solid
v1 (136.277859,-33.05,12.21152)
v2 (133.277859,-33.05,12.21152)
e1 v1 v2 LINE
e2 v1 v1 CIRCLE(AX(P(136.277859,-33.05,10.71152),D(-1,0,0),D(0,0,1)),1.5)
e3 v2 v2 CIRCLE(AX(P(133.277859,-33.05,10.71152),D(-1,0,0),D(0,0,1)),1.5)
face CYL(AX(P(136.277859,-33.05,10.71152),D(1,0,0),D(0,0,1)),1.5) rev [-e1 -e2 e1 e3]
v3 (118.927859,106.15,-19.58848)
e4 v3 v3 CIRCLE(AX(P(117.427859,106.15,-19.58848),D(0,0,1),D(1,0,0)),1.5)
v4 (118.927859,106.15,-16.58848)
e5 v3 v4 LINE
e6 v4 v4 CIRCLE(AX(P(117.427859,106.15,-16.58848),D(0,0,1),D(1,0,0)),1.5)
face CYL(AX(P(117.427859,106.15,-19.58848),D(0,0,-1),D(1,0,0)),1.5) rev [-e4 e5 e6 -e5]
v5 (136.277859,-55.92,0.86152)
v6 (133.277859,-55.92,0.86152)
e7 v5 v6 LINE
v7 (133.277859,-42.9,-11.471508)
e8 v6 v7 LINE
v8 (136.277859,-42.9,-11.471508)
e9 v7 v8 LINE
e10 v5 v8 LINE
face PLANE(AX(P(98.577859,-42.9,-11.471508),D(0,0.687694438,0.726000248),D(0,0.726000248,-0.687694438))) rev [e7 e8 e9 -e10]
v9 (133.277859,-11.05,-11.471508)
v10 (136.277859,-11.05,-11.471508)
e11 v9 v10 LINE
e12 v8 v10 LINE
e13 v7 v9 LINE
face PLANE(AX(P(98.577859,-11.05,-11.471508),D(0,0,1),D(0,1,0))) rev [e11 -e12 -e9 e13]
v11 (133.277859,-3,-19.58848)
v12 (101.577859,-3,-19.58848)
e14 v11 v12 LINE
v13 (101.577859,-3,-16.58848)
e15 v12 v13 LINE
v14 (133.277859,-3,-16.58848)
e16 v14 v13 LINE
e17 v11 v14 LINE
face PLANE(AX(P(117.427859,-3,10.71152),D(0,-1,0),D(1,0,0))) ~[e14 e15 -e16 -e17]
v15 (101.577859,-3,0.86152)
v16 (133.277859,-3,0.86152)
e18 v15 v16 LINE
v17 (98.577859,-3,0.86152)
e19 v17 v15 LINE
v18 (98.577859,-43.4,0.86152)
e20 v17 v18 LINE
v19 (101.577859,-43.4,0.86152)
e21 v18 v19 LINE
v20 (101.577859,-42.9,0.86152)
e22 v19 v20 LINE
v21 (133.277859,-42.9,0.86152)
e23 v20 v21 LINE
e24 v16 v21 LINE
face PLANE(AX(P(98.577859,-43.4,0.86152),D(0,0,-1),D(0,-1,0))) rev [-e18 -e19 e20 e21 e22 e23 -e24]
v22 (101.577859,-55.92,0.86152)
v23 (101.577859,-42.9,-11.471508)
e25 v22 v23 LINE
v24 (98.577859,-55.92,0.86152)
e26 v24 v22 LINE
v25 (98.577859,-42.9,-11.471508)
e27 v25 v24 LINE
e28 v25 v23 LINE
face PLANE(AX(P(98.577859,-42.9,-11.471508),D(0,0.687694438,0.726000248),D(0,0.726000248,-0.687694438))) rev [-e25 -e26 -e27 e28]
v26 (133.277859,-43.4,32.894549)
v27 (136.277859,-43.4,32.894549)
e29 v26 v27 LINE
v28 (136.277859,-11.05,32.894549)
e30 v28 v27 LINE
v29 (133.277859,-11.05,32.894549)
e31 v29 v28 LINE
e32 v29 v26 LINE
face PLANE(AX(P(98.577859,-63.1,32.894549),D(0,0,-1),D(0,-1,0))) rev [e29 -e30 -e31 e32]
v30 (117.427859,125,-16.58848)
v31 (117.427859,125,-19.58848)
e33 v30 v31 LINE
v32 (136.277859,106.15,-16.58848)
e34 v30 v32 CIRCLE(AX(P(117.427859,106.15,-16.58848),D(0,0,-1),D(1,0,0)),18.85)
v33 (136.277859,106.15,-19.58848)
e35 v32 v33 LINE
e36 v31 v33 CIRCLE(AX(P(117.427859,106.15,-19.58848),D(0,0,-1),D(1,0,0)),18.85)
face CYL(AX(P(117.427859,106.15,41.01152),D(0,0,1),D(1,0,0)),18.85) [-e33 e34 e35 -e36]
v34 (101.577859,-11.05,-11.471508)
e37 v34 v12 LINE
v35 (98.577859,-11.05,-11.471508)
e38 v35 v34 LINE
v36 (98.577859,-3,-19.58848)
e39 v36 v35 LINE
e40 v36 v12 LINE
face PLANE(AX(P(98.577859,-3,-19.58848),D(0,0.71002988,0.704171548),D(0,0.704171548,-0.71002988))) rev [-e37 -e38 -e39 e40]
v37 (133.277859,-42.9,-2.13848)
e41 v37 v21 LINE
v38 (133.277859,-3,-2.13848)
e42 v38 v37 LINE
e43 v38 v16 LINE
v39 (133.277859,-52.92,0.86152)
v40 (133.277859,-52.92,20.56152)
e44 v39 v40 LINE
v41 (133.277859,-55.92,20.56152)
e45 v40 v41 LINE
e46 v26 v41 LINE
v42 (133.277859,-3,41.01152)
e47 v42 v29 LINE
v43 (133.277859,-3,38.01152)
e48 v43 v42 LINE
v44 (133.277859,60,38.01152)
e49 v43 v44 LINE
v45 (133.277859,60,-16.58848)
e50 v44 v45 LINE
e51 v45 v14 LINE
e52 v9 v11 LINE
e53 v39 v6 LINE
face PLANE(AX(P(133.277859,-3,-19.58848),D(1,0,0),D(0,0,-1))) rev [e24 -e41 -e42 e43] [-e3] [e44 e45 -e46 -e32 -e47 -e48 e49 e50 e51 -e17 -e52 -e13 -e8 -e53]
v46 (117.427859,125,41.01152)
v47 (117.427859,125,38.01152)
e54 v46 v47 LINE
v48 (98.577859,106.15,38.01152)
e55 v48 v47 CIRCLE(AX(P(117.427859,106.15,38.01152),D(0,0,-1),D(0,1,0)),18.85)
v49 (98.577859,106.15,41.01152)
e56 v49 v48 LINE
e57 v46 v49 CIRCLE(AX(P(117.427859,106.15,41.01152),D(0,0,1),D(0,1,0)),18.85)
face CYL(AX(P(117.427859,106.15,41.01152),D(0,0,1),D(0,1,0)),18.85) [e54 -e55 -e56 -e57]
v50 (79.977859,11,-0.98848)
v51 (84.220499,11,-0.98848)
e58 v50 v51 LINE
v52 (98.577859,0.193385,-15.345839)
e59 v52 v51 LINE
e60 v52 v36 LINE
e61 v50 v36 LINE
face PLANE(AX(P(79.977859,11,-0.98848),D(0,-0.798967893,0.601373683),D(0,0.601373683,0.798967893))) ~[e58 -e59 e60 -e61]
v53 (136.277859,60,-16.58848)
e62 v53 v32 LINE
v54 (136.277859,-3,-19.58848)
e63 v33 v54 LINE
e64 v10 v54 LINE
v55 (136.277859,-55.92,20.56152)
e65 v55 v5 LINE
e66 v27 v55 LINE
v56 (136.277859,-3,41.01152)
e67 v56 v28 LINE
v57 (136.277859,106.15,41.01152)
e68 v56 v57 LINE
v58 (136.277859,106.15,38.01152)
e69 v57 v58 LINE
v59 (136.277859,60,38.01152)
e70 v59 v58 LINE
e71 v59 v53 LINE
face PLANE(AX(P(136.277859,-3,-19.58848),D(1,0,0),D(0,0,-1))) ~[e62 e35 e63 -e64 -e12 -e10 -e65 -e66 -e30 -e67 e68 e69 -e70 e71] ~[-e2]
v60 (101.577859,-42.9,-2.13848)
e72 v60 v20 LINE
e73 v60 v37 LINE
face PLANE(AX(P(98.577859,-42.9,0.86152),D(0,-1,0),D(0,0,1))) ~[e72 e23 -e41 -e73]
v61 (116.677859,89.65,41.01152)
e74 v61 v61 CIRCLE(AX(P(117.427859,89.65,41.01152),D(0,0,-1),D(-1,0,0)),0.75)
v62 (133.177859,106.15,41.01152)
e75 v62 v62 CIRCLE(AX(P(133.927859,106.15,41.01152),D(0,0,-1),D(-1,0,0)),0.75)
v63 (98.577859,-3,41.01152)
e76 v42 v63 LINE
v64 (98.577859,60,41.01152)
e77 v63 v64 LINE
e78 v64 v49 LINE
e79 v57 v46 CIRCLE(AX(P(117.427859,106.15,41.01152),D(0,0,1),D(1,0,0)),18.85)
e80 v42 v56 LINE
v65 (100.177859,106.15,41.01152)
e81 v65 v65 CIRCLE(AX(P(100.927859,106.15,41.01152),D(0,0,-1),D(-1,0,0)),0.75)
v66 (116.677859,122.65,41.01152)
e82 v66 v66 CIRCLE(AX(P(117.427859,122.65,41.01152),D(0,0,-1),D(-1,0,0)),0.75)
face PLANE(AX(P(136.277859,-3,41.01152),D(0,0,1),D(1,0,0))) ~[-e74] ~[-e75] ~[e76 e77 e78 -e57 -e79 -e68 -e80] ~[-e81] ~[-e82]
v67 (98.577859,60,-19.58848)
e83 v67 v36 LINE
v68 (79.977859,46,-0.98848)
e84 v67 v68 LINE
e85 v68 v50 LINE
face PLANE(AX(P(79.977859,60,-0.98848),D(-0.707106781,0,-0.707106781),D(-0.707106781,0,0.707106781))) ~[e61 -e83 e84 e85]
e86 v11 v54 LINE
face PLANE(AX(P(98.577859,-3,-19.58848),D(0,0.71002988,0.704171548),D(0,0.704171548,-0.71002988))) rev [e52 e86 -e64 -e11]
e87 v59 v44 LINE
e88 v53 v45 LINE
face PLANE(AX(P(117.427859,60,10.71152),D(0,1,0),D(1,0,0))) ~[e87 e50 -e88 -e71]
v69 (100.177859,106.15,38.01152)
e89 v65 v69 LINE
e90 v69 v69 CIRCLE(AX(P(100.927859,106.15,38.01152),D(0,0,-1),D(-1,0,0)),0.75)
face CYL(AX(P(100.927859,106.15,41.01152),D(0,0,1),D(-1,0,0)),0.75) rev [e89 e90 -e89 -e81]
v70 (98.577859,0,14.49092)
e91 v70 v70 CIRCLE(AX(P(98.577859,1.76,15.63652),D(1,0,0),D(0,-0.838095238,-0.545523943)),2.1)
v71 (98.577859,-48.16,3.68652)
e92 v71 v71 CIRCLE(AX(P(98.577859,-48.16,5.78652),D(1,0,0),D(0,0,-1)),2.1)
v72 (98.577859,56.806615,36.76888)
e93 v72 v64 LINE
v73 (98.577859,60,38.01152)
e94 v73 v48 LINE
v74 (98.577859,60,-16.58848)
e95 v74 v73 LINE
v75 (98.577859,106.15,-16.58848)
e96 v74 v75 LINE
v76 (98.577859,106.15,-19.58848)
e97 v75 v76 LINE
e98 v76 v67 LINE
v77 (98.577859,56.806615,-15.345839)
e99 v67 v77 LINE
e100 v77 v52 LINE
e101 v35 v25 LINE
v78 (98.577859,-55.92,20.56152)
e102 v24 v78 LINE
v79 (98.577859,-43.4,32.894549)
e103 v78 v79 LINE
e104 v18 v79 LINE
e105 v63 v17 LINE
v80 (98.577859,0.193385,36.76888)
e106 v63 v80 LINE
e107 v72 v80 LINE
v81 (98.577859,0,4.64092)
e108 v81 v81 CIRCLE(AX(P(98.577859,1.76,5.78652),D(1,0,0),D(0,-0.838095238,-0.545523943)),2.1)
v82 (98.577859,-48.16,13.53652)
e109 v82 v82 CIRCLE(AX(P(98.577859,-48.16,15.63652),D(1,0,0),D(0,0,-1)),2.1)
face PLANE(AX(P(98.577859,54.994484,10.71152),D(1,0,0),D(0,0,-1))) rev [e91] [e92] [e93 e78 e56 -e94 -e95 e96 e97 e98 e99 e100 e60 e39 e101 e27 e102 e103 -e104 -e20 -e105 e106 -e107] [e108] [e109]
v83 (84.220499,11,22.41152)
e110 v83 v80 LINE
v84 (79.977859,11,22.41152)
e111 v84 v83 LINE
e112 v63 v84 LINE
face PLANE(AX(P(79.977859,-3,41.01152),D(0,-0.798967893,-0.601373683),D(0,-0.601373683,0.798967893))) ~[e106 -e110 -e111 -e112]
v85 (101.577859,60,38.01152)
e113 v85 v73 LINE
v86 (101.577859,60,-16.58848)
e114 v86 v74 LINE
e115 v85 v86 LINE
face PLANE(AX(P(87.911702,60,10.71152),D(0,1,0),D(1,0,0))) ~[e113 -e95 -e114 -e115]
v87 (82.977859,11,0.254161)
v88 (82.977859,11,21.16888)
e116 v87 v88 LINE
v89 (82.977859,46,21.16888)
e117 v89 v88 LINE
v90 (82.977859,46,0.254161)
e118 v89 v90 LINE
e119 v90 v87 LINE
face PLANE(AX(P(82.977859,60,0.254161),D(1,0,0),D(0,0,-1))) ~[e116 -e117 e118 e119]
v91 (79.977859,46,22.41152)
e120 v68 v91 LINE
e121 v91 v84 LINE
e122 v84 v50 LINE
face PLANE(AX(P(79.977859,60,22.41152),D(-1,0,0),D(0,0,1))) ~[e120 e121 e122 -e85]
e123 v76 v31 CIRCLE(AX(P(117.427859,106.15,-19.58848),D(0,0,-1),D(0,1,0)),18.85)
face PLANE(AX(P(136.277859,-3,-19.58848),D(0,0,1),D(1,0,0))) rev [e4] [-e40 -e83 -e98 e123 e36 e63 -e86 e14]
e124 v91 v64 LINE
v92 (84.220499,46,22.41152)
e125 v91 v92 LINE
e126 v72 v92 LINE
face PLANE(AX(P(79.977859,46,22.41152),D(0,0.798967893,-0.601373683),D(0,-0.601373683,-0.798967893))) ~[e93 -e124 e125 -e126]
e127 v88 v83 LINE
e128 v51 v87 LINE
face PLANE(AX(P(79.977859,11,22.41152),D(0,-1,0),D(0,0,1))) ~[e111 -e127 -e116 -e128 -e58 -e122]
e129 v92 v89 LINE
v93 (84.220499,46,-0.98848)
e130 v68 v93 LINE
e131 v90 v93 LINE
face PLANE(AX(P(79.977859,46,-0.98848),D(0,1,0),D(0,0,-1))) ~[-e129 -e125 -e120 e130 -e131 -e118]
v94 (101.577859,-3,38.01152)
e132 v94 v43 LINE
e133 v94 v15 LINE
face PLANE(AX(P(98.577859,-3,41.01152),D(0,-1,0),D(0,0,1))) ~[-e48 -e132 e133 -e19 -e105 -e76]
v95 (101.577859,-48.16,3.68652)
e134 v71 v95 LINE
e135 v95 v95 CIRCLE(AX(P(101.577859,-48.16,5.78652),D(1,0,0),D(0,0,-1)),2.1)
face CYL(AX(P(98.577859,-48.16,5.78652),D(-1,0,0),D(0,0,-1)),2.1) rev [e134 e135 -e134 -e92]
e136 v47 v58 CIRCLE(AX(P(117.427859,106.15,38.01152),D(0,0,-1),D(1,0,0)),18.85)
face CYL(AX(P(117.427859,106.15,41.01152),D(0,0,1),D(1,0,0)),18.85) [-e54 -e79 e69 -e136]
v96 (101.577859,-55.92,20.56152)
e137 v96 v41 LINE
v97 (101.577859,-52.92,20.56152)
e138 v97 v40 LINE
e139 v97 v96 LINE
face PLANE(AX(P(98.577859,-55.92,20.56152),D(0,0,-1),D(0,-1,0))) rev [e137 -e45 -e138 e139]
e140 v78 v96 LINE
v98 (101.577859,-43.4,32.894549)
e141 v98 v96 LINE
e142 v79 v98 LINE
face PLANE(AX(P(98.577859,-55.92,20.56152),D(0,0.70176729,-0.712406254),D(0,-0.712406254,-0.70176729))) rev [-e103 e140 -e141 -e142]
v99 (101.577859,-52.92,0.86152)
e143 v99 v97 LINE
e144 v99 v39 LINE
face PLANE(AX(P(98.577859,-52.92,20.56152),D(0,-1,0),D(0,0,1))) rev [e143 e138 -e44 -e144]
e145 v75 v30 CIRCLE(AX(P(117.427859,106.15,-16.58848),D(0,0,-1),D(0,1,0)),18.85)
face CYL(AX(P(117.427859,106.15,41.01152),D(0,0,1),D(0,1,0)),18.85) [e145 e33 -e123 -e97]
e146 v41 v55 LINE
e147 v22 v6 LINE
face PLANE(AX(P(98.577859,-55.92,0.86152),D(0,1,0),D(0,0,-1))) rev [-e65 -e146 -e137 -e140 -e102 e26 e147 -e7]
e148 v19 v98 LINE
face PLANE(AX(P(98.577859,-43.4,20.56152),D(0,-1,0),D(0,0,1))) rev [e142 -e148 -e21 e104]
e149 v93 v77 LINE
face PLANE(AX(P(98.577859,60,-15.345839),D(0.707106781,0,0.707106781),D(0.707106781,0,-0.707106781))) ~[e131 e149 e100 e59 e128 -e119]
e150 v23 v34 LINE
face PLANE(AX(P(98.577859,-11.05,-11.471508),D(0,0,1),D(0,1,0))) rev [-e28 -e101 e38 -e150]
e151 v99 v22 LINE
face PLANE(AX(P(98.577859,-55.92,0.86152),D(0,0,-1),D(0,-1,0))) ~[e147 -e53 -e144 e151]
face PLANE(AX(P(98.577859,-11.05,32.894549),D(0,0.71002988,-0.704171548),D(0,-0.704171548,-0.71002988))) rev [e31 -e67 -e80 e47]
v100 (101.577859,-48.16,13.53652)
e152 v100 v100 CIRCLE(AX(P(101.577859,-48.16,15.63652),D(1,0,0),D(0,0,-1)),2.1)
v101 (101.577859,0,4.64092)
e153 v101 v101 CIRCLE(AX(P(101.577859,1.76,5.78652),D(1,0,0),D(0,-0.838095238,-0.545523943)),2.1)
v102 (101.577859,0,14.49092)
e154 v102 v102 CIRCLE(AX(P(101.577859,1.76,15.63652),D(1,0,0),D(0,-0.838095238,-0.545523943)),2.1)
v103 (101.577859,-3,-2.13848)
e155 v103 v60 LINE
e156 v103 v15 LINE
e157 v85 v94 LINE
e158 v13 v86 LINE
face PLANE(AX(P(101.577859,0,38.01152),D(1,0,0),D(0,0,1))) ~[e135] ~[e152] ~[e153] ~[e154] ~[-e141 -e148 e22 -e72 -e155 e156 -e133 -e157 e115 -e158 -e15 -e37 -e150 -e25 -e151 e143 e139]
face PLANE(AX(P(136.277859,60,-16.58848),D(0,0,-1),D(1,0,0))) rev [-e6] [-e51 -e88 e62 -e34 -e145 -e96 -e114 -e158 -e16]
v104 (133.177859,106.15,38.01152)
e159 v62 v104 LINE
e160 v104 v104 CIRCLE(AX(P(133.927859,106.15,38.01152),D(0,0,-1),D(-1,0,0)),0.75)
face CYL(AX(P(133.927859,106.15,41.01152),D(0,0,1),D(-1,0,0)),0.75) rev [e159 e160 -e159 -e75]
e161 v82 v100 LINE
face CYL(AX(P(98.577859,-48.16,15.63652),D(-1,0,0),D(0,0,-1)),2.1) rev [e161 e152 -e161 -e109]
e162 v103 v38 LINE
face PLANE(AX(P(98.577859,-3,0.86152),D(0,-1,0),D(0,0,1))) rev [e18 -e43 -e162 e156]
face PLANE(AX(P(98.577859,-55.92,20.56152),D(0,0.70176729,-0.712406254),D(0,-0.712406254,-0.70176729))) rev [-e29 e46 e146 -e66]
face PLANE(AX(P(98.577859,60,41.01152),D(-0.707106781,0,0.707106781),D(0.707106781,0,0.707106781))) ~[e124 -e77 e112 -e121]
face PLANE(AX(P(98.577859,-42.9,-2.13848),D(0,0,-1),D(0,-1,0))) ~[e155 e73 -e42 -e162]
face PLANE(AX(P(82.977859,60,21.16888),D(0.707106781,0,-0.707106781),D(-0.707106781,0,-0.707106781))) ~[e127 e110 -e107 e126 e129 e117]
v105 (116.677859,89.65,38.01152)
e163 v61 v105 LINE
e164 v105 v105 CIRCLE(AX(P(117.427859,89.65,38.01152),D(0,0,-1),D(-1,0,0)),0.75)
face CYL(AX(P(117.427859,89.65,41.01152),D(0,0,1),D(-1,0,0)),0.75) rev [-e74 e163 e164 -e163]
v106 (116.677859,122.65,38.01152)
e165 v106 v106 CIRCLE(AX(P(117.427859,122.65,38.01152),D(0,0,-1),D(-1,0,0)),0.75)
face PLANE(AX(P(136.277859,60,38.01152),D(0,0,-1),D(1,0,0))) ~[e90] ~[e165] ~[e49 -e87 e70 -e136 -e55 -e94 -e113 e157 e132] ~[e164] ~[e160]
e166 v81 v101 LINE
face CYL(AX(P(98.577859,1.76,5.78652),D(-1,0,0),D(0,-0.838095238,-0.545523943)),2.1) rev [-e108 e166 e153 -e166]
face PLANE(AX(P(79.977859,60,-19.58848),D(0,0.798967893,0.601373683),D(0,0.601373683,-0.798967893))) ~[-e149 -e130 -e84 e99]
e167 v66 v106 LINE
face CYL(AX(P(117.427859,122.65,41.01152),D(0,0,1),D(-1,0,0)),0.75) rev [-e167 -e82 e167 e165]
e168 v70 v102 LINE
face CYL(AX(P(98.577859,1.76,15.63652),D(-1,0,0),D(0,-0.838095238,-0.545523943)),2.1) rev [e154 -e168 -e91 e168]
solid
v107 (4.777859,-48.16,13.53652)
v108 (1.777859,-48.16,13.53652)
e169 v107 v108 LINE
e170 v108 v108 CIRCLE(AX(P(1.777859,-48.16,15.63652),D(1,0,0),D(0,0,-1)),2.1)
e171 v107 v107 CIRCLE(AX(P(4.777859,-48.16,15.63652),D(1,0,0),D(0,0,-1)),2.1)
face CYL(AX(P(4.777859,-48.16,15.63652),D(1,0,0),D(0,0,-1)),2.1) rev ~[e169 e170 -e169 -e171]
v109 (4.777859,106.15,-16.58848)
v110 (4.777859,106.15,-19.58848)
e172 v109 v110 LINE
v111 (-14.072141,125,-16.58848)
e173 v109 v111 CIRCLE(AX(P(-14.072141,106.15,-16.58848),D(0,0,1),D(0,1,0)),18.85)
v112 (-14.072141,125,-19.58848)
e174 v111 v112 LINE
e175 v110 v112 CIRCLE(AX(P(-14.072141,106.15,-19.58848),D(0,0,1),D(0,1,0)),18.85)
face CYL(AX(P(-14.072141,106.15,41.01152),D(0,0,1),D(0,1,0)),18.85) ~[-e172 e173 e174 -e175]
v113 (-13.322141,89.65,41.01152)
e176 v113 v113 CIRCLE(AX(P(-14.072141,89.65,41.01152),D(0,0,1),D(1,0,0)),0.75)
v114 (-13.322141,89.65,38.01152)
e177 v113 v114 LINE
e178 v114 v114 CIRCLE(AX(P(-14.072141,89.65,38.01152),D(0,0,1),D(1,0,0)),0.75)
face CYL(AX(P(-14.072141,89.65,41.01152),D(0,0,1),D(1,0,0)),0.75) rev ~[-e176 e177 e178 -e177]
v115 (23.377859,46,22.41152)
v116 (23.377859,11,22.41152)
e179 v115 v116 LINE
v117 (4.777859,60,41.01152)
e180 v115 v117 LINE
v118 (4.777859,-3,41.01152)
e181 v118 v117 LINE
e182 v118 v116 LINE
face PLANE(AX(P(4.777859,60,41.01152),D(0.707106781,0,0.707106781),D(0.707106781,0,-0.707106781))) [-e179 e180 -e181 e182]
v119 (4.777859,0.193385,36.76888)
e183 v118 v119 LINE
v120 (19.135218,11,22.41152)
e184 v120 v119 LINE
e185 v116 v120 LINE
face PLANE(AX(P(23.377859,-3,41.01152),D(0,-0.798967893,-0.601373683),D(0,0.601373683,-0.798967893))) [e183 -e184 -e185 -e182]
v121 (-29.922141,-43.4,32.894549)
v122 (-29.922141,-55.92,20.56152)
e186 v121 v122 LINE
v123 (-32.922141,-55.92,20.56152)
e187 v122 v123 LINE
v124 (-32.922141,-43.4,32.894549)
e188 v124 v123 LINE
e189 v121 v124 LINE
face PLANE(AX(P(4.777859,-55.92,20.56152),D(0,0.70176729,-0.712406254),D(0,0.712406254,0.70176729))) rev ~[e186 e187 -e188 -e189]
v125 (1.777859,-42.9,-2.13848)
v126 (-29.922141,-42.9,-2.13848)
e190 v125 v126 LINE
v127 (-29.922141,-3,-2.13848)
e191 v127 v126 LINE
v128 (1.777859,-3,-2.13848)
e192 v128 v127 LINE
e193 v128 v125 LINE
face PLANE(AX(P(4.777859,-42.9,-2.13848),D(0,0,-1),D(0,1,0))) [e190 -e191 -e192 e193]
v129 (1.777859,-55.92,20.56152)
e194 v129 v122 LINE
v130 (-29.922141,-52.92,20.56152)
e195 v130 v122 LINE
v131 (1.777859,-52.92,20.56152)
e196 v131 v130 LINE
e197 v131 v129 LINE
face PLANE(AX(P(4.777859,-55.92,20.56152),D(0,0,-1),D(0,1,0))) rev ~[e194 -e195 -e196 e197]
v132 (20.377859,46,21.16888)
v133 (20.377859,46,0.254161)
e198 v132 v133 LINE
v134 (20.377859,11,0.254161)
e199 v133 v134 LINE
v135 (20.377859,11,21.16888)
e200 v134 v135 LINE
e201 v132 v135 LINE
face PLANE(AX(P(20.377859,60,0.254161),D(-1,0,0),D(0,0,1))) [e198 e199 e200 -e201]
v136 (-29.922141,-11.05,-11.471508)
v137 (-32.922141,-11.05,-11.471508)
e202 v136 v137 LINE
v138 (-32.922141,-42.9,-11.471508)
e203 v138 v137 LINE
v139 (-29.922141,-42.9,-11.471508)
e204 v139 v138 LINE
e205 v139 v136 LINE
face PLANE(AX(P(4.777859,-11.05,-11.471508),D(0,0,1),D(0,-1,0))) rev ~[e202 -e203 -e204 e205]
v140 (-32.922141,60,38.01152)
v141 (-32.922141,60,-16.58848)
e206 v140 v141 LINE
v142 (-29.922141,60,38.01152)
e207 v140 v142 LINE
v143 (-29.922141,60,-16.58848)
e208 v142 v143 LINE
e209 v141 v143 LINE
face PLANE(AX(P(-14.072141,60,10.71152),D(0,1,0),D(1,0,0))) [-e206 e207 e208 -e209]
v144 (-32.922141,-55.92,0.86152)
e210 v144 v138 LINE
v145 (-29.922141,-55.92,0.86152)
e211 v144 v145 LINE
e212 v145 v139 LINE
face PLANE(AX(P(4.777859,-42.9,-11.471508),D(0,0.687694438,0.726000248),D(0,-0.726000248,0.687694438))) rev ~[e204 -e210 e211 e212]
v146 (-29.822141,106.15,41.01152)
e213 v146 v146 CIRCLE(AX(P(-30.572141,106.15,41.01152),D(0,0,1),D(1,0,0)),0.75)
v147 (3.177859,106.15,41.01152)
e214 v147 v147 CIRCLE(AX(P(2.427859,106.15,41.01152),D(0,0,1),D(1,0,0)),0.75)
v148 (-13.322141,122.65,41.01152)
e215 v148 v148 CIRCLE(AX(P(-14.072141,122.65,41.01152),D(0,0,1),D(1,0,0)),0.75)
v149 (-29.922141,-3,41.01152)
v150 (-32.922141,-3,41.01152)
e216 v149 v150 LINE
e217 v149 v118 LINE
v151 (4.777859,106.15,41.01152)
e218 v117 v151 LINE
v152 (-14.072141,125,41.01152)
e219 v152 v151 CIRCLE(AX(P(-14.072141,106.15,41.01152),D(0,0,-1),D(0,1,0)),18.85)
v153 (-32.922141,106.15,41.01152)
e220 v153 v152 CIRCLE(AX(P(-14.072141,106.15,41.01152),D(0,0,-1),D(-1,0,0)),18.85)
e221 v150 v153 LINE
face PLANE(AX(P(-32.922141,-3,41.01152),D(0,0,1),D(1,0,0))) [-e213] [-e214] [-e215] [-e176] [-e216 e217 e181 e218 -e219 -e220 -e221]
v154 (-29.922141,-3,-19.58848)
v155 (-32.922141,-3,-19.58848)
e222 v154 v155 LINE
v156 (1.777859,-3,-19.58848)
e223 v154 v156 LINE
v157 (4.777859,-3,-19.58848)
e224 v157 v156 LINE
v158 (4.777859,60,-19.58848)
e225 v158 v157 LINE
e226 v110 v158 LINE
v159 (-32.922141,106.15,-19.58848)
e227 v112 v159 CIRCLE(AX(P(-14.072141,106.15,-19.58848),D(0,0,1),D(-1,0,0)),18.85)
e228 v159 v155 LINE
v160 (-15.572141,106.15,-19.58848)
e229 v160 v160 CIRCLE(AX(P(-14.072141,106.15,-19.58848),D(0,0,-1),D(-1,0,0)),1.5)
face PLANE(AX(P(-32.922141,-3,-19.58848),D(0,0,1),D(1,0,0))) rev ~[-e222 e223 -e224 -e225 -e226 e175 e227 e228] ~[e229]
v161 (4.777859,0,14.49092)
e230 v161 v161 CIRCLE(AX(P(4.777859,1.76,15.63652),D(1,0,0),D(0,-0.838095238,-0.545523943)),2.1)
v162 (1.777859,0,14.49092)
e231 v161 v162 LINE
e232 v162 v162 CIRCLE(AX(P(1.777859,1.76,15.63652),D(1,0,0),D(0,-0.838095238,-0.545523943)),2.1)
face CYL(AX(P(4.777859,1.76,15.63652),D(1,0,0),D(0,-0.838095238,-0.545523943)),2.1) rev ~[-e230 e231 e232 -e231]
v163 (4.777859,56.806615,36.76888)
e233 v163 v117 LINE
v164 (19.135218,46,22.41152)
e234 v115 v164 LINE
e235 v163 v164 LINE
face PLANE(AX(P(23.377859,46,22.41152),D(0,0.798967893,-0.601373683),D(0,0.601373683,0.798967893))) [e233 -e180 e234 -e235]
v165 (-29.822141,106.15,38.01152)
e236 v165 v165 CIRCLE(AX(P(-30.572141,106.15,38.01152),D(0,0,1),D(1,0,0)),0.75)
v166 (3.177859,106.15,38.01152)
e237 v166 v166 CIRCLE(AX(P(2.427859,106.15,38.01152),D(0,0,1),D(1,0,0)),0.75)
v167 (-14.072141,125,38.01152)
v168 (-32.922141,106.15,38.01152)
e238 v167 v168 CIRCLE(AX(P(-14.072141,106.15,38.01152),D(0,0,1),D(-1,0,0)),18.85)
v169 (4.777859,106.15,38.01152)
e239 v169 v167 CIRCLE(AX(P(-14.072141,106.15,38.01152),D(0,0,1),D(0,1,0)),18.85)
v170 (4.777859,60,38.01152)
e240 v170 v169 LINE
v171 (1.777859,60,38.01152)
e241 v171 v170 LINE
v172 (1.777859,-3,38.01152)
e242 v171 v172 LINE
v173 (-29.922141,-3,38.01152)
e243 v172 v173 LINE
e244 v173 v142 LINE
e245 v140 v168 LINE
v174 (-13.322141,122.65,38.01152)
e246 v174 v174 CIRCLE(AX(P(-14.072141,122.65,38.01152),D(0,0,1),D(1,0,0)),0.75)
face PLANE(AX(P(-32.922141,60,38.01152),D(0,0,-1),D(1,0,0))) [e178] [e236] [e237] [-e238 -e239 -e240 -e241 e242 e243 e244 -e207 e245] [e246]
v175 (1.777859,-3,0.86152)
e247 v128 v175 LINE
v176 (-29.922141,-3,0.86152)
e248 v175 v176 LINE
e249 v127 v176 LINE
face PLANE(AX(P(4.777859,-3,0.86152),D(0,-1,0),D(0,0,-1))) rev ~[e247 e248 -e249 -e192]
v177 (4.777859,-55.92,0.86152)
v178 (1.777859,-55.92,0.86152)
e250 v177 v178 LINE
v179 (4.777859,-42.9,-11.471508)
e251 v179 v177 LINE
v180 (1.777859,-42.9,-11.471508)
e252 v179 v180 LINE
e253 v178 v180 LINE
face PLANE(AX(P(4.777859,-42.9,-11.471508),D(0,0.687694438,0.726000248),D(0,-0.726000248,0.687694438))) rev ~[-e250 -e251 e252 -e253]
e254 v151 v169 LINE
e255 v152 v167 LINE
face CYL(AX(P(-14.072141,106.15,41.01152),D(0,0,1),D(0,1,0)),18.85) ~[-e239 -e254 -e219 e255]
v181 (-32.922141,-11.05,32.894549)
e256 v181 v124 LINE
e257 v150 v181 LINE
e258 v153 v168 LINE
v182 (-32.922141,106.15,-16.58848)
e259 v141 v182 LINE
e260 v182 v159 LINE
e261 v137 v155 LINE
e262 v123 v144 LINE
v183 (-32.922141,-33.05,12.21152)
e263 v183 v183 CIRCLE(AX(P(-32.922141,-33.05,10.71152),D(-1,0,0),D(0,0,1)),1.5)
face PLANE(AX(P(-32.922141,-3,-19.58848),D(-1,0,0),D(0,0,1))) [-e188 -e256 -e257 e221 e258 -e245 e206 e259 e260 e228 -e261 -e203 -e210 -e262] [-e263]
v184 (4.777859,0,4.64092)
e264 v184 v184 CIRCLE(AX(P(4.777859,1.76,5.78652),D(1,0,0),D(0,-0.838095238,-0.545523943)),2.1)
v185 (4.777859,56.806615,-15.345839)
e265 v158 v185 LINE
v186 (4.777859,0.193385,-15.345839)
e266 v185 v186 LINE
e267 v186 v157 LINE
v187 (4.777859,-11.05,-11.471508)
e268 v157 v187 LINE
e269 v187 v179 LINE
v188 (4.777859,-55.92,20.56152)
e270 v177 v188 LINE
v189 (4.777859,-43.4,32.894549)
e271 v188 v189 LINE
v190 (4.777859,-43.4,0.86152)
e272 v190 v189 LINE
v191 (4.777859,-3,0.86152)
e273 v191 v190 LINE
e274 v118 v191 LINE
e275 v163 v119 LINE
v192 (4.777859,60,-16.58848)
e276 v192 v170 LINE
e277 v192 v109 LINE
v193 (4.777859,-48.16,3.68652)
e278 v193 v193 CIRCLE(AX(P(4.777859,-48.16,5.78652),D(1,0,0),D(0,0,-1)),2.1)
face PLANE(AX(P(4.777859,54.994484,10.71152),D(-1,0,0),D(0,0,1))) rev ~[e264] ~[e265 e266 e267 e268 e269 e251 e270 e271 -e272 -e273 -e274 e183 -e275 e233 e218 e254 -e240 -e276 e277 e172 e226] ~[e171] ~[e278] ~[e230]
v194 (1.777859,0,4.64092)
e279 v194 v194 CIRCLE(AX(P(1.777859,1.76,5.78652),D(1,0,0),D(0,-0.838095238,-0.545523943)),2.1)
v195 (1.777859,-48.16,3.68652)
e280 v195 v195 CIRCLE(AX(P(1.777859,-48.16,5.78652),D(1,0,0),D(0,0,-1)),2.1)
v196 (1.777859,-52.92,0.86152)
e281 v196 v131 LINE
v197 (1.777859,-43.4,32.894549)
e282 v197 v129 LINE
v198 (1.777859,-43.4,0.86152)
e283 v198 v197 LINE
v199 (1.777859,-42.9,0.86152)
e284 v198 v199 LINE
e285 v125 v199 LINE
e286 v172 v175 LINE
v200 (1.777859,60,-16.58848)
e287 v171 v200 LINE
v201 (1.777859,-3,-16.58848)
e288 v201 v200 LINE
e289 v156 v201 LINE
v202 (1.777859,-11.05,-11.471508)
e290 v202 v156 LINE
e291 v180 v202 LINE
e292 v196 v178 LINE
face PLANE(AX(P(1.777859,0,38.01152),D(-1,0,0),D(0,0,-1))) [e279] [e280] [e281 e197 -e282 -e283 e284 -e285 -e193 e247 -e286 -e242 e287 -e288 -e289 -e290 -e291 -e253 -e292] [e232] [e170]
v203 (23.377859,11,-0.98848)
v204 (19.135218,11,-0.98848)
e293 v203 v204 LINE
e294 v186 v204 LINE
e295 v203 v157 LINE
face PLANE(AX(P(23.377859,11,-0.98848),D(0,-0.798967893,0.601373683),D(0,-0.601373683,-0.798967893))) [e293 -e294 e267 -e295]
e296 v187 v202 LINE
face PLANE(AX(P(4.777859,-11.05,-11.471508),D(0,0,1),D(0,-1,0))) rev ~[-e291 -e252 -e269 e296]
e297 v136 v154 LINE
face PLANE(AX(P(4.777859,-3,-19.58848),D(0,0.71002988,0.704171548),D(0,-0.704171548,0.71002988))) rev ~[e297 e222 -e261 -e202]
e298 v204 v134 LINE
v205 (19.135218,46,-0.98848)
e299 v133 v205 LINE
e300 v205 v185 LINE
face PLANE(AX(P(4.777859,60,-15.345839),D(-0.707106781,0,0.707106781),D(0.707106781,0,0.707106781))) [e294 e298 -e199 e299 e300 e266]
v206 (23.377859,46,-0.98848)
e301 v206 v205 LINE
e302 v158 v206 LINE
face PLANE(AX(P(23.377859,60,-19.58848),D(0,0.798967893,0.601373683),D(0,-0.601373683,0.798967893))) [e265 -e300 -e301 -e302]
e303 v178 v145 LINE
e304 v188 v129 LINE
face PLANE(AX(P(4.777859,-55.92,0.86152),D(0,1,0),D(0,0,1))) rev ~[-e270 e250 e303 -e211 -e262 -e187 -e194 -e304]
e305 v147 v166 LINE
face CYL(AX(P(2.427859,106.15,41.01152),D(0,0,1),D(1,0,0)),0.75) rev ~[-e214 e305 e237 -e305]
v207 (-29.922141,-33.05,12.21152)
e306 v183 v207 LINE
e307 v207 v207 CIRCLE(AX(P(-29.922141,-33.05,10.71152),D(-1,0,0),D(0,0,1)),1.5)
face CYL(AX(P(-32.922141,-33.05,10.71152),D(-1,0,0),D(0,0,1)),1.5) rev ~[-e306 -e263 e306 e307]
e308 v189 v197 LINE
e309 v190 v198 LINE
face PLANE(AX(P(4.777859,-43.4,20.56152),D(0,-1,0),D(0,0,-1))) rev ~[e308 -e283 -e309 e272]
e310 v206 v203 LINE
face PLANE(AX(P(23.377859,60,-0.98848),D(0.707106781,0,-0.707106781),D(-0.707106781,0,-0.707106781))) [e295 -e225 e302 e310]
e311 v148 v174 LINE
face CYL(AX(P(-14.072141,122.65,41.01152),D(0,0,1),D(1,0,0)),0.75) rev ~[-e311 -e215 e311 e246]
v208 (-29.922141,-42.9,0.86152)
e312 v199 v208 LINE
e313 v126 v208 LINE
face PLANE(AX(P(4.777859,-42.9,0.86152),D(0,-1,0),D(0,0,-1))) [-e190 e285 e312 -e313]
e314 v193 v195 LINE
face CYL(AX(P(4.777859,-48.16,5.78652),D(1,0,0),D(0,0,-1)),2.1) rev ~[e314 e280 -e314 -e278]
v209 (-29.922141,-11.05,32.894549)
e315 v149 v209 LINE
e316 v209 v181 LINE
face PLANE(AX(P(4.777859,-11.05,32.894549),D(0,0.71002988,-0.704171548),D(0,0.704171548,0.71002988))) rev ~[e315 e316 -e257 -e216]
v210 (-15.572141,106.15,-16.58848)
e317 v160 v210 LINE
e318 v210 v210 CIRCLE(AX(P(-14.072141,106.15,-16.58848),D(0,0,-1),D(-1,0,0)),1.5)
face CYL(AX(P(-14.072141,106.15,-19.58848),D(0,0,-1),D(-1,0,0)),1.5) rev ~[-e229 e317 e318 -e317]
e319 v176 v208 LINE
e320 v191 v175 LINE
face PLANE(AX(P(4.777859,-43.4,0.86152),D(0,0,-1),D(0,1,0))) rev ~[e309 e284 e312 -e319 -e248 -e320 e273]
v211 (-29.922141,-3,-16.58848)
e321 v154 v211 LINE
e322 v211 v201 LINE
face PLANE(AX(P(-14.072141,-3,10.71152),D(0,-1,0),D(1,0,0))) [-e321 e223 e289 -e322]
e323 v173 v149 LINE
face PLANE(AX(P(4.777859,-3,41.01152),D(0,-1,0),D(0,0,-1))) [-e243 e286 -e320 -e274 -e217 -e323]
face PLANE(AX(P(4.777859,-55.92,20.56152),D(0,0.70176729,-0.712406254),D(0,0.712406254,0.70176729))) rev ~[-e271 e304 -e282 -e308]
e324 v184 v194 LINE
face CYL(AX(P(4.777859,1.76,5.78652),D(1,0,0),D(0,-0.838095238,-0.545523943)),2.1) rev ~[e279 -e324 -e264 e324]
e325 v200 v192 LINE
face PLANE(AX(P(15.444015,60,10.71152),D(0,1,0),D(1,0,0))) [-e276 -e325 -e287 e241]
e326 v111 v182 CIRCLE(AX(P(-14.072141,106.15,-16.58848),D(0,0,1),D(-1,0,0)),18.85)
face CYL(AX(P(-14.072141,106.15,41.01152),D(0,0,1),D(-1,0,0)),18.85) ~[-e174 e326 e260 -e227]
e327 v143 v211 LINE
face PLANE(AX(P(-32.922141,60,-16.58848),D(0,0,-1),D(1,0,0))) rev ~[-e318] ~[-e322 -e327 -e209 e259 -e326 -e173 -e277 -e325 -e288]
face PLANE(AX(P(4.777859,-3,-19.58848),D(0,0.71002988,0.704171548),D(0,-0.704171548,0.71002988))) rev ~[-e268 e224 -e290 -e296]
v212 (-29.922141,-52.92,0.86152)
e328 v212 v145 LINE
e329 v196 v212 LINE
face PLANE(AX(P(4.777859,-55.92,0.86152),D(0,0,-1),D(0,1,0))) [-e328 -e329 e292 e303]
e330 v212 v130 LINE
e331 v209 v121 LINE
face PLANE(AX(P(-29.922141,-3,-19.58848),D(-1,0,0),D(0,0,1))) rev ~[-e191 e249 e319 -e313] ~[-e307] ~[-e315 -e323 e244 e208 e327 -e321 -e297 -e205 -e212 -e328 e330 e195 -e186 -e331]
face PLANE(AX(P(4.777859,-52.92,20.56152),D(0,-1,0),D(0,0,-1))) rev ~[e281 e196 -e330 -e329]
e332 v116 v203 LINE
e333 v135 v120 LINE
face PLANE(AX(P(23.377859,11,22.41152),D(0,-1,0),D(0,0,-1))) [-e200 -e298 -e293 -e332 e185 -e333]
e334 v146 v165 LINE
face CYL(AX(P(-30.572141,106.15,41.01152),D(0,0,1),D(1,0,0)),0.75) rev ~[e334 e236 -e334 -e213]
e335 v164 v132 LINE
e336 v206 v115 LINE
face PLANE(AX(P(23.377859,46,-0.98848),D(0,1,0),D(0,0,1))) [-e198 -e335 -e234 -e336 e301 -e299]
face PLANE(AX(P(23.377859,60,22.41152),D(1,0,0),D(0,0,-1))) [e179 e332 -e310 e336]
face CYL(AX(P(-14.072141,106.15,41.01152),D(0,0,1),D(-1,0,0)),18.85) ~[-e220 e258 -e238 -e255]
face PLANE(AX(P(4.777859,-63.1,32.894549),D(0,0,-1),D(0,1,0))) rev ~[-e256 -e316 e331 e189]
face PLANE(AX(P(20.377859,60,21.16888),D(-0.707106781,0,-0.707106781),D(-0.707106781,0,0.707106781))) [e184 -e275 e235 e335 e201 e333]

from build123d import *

# Parameters (mm, degrees)
SKETCH_1_W           = 37.7
SKETCH_1_H           = 60.6
SKETCH_1_W_2         = 31.7
SKETCH_1_H_2         = 54.6
EXTRUDE_1_DEPTH      = 60
SKETCH_2_W           = 37.7
SKETCH_2_H           = 3
EXTRUDE_2_DEPTH      = 65
CUT_EXTRUDE_1_DEPTH  = 100
SKETCH_4_W           = 37.7
SKETCH_4_H           = 60.6
EXTRUDE_3_DEPTH      = 3
SKETCH_5_W           = 3
SKETCH_5_H           = 60.6
EXTRUDE_4_DEPTH      = 60.1
SKETCH_7_W           = 5.308475652
SKETCH_7_H           = 1.585967116
CUT_EXTRUDE_2_DEPTH  = 52
SKETCH_9_R           = 2.1
SKETCH_9_W           = 19.7
SKETCH_9_H           = 40.4
CUT_EXTRUDE_4_DEPTH  = 3
SKETCH_10_W          = 31.7
SKETCH_10_H          = 54.6
CUT_EXTRUDE_5_DEPTH  = 3
SKETCH_11_R          = 1.5
CUT_EXTRUDE_6_DEPTH  = 3
EXTRUDE_6_DEPTH      = 63
CUT_EXTRUDE_7_DEPTH  = 18.6
SKETCH_16_R          = 0.75
CUT_EXTRUDE_8_DEPTH  = 3
SKETCH_17_R          = 1.5
CUT_EXTRUDE_9_DEPTH  = 3
SKETCH_21_W          = 20.45
SKETCH_21_H          = 40.4
CUT_EXTRUDE_10_DEPTH = 10
SKETCH_22_W          = 3
SKETCH_22_H          = 39.9
EXTRUDE_7_DEPTH      = 35
CUT_EXTRUDE_11_DEPTH = 39
SKETCH_24_W          = 19.7
SKETCH_24_H          = 3
EXTRUDE_8_DEPTH      = 36


with BuildPart() as part:
    # 草图1 → 凸台-拉伸1 (new body)
    with BuildSketch(Plane(origin=(0, 0, 0), x_dir=(1, 0, 0), z_dir=(0, 1, 0))):
        with Locations((-14.07214144, -10.711520331)):
            Rectangle(SKETCH_1_W, SKETCH_1_H)
        with Locations((-14.07214144, -10.711520331)):
            Rectangle(SKETCH_1_W_2, SKETCH_1_H_2, mode=Mode.SUBTRACT)
    extrude(amount=EXTRUDE_1_DEPTH)

    # 草图2 → 凸台-拉伸2 (add)
    with BuildSketch(Plane(origin=(0, 60, 0), x_dir=(1, 0, 0), z_dir=(0, 1, 0))):
        with Locations((-14.07214144, 18.088479669)):
            Rectangle(SKETCH_2_W, SKETCH_2_H)
        with Locations((-14.07214144, -39.511520331)):
            Rectangle(SKETCH_2_W, SKETCH_2_H)
    extrude(amount=EXTRUDE_2_DEPTH)

    # 草图3 → 切除-拉伸1 (cut)
    with BuildSketch(Plane.XY.offset(41.011520331)):
        with BuildLine():
            Line((4.77785856, 125), (-14.07214144, 125))
            ThreePointArc((-14.07214144, 125), (-0.743178614, 119.478962825), (4.77785856, 106.15))
            Line((4.77785856, 106.15), (4.77785856, 125))
        make_face()
        with BuildLine():
            Line((-32.92214144, 125), (-32.92214144, 106.15))
            ThreePointArc((-32.92214144, 106.15), (-27.401104265, 119.478962825), (-14.07214144, 125))
            Line((-14.07214144, 125), (-32.92214144, 125))
        make_face()
    extrude(amount=-CUT_EXTRUDE_1_DEPTH, mode=Mode.SUBTRACT)

    # 草图4 → 凸台-拉伸3 (add)
    with BuildSketch(Plane.XZ):
        with Locations((-14.07214144, 10.711520331)):
            Rectangle(SKETCH_4_W, SKETCH_4_H)
    extrude(amount=EXTRUDE_3_DEPTH)

    # 草图5 → 凸台-拉伸4 (add)
    with BuildSketch(Plane.XZ.offset(3)):
        with Locations((-31.42214144, 10.711520331)):
            Rectangle(SKETCH_5_W, SKETCH_5_H)
        with Locations((3.27785856, 10.711520331)):
            Rectangle(SKETCH_5_W, SKETCH_5_H)
    extrude(amount=EXTRUDE_4_DEPTH)

    # 草图7 → 切除-拉伸2 (cut)
    with BuildSketch(Plane(origin=(4.77785856, 0, 0), x_dir=(0, 0, -1), z_dir=(1, 0, 0))):
        with Locations((-55.382521172, -90.859075485)):
            Rectangle(SKETCH_7_W, SKETCH_7_H)
        Polygon((-32.894548617, -33.05), (-32.894548617, -11.05), (-41.011520331, -3), (-41.011520331, -63.1), (-32.894548617, -63.1), align=None)
        Polygon((19.588479669, -63.1), (19.588479669, -3), (11.471507955, -11.05), (11.471507955, -33.05), (11.471507955, -63.1), align=None)
    extrude(amount=-CUT_EXTRUDE_2_DEPTH, mode=Mode.SUBTRACT)

    # 草图9 → 切除-拉伸4 (cut)
    with BuildSketch(Plane(origin=(4.77785856, 0, 0), x_dir=(0, 0, -1), z_dir=(1, 0, 0))):
        with Locations((-15.636520331, -48.16)):
            Circle(SKETCH_9_R)
        with Locations((-5.786520331, -48.16)):
            Circle(SKETCH_9_R)
        with Locations(Location((-5.786520331, 1.76, 0), (0, 0, 303.060475305))):
            Circle(SKETCH_9_R)
        with Locations(Location((-15.636520331, 1.76, 0), (0, 0, 303.060475305))):
            Circle(SKETCH_9_R)
        with Locations((-10.711520331, -23.2)):
            Rectangle(SKETCH_9_W, SKETCH_9_H)
    extrude(amount=-CUT_EXTRUDE_4_DEPTH, mode=Mode.SUBTRACT)

    # 草图10 → 切除-拉伸5 (cut)
    with BuildSketch(Plane.XZ.offset(3)):
        with Locations((-14.07214144, 10.711520331)):
            Rectangle(SKETCH_10_W, SKETCH_10_H)
    extrude(amount=-CUT_EXTRUDE_5_DEPTH, mode=Mode.SUBTRACT)

    # 草图11 → 切除-拉伸6 (cut)
    with BuildSketch(Plane.ZY.offset(32.92214144)):
        with Locations((10.711520331, -33.05)):
            Circle(SKETCH_11_R)
    extrude(amount=-CUT_EXTRUDE_6_DEPTH, mode=Mode.SUBTRACT)

    # 草图14 → 凸台-拉伸6 (add)
    with BuildSketch(Plane(origin=(0, 60, 0), x_dir=(1, 0, 0), z_dir=(0, 1, 0))):
        Polygon((23.37785856, 0.988479669), (4.77785856, 19.588479669), (4.77785856, 16.588479669), (4.77785856, 15.345838982), (20.37785856, -0.254161018), (20.37785856, -21.168879644), (4.77785856, -36.768879644), (4.77785856, -38.011520331), (4.77785856, -41.011520331), (23.37785856, -22.411520331), align=None)
    extrude(amount=-EXTRUDE_6_DEPTH)

    # 草图15 → 切除-拉伸7 (cut)
    with BuildSketch(Plane(origin=(23.37785856, 0, 0), x_dir=(0, 0, -1), z_dir=(1, 0, 0))):
        Polygon((-22.411520331, 11), (0.988479669, 11), (19.588479669, -3), (-41.011520331, -3), align=None)
        Polygon((-41.011520331, 60), (19.588479669, 60), (0.988479669, 46), (-22.411520331, 46), align=None)
    extrude(amount=-CUT_EXTRUDE_7_DEPTH, mode=Mode.SUBTRACT)

    # 草图16 → 切除-拉伸8 (cut)
    with BuildSketch(Plane.XY.offset(41.011520331)):
        with Locations((-14.07214144, 122.65)):
            Circle(SKETCH_16_R)
        with Locations((2.42785856, 106.15)):
            Circle(SKETCH_16_R)
        with Locations((-30.57214144, 106.15)):
            Circle(SKETCH_16_R)
        with Locations((-14.07214144, 89.65)):
            Circle(SKETCH_16_R)
    extrude(amount=-CUT_EXTRUDE_8_DEPTH, mode=Mode.SUBTRACT)

    # 草图17 → 切除-拉伸9 (cut)
    with BuildSketch(Plane(origin=(0, 0, -19.588479669), x_dir=(-1, 0, 0), z_dir=(0, 0, -1))):
        with Locations((14.07214144, 106.15)):
            Circle(SKETCH_17_R)
    extrude(amount=-CUT_EXTRUDE_9_DEPTH, mode=Mode.SUBTRACT)


with BuildPart() as body_2:
    # 镜向2: mirrored copy
    add(part.part.mirror(Plane(origin=(51.67785856, 0, 0), x_dir=(0, 0, 1), z_dir=(1, 0, 0))))


with BuildPart() as part_1:
    add(part.part)

    # 草图21 → 切除-拉伸10 (cut)
    with BuildSketch(Plane(origin=(4.77785856, 0, 0), x_dir=(0, 0, -1), z_dir=(1, 0, 0))):
        with Locations((-30.786520331, -23.2)):
            Rectangle(SKETCH_21_W, SKETCH_21_H)
    extrude(amount=-CUT_EXTRUDE_10_DEPTH, mode=Mode.SUBTRACT)

    # 草图22 → 凸台-拉伸7 (add)
    with BuildSketch(Plane(origin=(4.77785856, 0, 0), x_dir=(0, 0, -1), z_dir=(1, 0, 0))):
        with Locations((0.638479669, -22.95)):
            Rectangle(SKETCH_22_W, SKETCH_22_H)
    extrude(amount=-EXTRUDE_7_DEPTH)

    # 草图23 → 切除-拉伸11 (cut)
    with BuildSketch(Plane(origin=(4.77785856, 0, 0), x_dir=(0, 0, -1), z_dir=(1, 0, 0))):
        Polygon((-20.561520331, -55.92), (-32.894548617, -43.4), (-32.894548617, -63.1), (11.471507955, -63.1), (11.471507955, -42.9), (-0.861520331, -55.92), align=None)
    extrude(amount=-CUT_EXTRUDE_11_DEPTH, mode=Mode.SUBTRACT)

    # 草图24 → 凸台-拉伸8 (add)
    with BuildSketch(Plane(origin=(4.77785856, 0, 0), x_dir=(0, 0, -1), z_dir=(1, 0, 0))):
        with Locations((-10.711520331, -54.42)):
            Rectangle(SKETCH_24_W, SKETCH_24_H)
    extrude(amount=-EXTRUDE_8_DEPTH)


with BuildPart() as body_2_2:
    # 镜向6: mirrored copy
    add(part_1.part.mirror(Plane(origin=(51.67785856, 0, 0), x_dir=(0, 0, 1), z_dir=(1, 0, 0))))


solid = Compound([part_1.part, body_2_2.part])
